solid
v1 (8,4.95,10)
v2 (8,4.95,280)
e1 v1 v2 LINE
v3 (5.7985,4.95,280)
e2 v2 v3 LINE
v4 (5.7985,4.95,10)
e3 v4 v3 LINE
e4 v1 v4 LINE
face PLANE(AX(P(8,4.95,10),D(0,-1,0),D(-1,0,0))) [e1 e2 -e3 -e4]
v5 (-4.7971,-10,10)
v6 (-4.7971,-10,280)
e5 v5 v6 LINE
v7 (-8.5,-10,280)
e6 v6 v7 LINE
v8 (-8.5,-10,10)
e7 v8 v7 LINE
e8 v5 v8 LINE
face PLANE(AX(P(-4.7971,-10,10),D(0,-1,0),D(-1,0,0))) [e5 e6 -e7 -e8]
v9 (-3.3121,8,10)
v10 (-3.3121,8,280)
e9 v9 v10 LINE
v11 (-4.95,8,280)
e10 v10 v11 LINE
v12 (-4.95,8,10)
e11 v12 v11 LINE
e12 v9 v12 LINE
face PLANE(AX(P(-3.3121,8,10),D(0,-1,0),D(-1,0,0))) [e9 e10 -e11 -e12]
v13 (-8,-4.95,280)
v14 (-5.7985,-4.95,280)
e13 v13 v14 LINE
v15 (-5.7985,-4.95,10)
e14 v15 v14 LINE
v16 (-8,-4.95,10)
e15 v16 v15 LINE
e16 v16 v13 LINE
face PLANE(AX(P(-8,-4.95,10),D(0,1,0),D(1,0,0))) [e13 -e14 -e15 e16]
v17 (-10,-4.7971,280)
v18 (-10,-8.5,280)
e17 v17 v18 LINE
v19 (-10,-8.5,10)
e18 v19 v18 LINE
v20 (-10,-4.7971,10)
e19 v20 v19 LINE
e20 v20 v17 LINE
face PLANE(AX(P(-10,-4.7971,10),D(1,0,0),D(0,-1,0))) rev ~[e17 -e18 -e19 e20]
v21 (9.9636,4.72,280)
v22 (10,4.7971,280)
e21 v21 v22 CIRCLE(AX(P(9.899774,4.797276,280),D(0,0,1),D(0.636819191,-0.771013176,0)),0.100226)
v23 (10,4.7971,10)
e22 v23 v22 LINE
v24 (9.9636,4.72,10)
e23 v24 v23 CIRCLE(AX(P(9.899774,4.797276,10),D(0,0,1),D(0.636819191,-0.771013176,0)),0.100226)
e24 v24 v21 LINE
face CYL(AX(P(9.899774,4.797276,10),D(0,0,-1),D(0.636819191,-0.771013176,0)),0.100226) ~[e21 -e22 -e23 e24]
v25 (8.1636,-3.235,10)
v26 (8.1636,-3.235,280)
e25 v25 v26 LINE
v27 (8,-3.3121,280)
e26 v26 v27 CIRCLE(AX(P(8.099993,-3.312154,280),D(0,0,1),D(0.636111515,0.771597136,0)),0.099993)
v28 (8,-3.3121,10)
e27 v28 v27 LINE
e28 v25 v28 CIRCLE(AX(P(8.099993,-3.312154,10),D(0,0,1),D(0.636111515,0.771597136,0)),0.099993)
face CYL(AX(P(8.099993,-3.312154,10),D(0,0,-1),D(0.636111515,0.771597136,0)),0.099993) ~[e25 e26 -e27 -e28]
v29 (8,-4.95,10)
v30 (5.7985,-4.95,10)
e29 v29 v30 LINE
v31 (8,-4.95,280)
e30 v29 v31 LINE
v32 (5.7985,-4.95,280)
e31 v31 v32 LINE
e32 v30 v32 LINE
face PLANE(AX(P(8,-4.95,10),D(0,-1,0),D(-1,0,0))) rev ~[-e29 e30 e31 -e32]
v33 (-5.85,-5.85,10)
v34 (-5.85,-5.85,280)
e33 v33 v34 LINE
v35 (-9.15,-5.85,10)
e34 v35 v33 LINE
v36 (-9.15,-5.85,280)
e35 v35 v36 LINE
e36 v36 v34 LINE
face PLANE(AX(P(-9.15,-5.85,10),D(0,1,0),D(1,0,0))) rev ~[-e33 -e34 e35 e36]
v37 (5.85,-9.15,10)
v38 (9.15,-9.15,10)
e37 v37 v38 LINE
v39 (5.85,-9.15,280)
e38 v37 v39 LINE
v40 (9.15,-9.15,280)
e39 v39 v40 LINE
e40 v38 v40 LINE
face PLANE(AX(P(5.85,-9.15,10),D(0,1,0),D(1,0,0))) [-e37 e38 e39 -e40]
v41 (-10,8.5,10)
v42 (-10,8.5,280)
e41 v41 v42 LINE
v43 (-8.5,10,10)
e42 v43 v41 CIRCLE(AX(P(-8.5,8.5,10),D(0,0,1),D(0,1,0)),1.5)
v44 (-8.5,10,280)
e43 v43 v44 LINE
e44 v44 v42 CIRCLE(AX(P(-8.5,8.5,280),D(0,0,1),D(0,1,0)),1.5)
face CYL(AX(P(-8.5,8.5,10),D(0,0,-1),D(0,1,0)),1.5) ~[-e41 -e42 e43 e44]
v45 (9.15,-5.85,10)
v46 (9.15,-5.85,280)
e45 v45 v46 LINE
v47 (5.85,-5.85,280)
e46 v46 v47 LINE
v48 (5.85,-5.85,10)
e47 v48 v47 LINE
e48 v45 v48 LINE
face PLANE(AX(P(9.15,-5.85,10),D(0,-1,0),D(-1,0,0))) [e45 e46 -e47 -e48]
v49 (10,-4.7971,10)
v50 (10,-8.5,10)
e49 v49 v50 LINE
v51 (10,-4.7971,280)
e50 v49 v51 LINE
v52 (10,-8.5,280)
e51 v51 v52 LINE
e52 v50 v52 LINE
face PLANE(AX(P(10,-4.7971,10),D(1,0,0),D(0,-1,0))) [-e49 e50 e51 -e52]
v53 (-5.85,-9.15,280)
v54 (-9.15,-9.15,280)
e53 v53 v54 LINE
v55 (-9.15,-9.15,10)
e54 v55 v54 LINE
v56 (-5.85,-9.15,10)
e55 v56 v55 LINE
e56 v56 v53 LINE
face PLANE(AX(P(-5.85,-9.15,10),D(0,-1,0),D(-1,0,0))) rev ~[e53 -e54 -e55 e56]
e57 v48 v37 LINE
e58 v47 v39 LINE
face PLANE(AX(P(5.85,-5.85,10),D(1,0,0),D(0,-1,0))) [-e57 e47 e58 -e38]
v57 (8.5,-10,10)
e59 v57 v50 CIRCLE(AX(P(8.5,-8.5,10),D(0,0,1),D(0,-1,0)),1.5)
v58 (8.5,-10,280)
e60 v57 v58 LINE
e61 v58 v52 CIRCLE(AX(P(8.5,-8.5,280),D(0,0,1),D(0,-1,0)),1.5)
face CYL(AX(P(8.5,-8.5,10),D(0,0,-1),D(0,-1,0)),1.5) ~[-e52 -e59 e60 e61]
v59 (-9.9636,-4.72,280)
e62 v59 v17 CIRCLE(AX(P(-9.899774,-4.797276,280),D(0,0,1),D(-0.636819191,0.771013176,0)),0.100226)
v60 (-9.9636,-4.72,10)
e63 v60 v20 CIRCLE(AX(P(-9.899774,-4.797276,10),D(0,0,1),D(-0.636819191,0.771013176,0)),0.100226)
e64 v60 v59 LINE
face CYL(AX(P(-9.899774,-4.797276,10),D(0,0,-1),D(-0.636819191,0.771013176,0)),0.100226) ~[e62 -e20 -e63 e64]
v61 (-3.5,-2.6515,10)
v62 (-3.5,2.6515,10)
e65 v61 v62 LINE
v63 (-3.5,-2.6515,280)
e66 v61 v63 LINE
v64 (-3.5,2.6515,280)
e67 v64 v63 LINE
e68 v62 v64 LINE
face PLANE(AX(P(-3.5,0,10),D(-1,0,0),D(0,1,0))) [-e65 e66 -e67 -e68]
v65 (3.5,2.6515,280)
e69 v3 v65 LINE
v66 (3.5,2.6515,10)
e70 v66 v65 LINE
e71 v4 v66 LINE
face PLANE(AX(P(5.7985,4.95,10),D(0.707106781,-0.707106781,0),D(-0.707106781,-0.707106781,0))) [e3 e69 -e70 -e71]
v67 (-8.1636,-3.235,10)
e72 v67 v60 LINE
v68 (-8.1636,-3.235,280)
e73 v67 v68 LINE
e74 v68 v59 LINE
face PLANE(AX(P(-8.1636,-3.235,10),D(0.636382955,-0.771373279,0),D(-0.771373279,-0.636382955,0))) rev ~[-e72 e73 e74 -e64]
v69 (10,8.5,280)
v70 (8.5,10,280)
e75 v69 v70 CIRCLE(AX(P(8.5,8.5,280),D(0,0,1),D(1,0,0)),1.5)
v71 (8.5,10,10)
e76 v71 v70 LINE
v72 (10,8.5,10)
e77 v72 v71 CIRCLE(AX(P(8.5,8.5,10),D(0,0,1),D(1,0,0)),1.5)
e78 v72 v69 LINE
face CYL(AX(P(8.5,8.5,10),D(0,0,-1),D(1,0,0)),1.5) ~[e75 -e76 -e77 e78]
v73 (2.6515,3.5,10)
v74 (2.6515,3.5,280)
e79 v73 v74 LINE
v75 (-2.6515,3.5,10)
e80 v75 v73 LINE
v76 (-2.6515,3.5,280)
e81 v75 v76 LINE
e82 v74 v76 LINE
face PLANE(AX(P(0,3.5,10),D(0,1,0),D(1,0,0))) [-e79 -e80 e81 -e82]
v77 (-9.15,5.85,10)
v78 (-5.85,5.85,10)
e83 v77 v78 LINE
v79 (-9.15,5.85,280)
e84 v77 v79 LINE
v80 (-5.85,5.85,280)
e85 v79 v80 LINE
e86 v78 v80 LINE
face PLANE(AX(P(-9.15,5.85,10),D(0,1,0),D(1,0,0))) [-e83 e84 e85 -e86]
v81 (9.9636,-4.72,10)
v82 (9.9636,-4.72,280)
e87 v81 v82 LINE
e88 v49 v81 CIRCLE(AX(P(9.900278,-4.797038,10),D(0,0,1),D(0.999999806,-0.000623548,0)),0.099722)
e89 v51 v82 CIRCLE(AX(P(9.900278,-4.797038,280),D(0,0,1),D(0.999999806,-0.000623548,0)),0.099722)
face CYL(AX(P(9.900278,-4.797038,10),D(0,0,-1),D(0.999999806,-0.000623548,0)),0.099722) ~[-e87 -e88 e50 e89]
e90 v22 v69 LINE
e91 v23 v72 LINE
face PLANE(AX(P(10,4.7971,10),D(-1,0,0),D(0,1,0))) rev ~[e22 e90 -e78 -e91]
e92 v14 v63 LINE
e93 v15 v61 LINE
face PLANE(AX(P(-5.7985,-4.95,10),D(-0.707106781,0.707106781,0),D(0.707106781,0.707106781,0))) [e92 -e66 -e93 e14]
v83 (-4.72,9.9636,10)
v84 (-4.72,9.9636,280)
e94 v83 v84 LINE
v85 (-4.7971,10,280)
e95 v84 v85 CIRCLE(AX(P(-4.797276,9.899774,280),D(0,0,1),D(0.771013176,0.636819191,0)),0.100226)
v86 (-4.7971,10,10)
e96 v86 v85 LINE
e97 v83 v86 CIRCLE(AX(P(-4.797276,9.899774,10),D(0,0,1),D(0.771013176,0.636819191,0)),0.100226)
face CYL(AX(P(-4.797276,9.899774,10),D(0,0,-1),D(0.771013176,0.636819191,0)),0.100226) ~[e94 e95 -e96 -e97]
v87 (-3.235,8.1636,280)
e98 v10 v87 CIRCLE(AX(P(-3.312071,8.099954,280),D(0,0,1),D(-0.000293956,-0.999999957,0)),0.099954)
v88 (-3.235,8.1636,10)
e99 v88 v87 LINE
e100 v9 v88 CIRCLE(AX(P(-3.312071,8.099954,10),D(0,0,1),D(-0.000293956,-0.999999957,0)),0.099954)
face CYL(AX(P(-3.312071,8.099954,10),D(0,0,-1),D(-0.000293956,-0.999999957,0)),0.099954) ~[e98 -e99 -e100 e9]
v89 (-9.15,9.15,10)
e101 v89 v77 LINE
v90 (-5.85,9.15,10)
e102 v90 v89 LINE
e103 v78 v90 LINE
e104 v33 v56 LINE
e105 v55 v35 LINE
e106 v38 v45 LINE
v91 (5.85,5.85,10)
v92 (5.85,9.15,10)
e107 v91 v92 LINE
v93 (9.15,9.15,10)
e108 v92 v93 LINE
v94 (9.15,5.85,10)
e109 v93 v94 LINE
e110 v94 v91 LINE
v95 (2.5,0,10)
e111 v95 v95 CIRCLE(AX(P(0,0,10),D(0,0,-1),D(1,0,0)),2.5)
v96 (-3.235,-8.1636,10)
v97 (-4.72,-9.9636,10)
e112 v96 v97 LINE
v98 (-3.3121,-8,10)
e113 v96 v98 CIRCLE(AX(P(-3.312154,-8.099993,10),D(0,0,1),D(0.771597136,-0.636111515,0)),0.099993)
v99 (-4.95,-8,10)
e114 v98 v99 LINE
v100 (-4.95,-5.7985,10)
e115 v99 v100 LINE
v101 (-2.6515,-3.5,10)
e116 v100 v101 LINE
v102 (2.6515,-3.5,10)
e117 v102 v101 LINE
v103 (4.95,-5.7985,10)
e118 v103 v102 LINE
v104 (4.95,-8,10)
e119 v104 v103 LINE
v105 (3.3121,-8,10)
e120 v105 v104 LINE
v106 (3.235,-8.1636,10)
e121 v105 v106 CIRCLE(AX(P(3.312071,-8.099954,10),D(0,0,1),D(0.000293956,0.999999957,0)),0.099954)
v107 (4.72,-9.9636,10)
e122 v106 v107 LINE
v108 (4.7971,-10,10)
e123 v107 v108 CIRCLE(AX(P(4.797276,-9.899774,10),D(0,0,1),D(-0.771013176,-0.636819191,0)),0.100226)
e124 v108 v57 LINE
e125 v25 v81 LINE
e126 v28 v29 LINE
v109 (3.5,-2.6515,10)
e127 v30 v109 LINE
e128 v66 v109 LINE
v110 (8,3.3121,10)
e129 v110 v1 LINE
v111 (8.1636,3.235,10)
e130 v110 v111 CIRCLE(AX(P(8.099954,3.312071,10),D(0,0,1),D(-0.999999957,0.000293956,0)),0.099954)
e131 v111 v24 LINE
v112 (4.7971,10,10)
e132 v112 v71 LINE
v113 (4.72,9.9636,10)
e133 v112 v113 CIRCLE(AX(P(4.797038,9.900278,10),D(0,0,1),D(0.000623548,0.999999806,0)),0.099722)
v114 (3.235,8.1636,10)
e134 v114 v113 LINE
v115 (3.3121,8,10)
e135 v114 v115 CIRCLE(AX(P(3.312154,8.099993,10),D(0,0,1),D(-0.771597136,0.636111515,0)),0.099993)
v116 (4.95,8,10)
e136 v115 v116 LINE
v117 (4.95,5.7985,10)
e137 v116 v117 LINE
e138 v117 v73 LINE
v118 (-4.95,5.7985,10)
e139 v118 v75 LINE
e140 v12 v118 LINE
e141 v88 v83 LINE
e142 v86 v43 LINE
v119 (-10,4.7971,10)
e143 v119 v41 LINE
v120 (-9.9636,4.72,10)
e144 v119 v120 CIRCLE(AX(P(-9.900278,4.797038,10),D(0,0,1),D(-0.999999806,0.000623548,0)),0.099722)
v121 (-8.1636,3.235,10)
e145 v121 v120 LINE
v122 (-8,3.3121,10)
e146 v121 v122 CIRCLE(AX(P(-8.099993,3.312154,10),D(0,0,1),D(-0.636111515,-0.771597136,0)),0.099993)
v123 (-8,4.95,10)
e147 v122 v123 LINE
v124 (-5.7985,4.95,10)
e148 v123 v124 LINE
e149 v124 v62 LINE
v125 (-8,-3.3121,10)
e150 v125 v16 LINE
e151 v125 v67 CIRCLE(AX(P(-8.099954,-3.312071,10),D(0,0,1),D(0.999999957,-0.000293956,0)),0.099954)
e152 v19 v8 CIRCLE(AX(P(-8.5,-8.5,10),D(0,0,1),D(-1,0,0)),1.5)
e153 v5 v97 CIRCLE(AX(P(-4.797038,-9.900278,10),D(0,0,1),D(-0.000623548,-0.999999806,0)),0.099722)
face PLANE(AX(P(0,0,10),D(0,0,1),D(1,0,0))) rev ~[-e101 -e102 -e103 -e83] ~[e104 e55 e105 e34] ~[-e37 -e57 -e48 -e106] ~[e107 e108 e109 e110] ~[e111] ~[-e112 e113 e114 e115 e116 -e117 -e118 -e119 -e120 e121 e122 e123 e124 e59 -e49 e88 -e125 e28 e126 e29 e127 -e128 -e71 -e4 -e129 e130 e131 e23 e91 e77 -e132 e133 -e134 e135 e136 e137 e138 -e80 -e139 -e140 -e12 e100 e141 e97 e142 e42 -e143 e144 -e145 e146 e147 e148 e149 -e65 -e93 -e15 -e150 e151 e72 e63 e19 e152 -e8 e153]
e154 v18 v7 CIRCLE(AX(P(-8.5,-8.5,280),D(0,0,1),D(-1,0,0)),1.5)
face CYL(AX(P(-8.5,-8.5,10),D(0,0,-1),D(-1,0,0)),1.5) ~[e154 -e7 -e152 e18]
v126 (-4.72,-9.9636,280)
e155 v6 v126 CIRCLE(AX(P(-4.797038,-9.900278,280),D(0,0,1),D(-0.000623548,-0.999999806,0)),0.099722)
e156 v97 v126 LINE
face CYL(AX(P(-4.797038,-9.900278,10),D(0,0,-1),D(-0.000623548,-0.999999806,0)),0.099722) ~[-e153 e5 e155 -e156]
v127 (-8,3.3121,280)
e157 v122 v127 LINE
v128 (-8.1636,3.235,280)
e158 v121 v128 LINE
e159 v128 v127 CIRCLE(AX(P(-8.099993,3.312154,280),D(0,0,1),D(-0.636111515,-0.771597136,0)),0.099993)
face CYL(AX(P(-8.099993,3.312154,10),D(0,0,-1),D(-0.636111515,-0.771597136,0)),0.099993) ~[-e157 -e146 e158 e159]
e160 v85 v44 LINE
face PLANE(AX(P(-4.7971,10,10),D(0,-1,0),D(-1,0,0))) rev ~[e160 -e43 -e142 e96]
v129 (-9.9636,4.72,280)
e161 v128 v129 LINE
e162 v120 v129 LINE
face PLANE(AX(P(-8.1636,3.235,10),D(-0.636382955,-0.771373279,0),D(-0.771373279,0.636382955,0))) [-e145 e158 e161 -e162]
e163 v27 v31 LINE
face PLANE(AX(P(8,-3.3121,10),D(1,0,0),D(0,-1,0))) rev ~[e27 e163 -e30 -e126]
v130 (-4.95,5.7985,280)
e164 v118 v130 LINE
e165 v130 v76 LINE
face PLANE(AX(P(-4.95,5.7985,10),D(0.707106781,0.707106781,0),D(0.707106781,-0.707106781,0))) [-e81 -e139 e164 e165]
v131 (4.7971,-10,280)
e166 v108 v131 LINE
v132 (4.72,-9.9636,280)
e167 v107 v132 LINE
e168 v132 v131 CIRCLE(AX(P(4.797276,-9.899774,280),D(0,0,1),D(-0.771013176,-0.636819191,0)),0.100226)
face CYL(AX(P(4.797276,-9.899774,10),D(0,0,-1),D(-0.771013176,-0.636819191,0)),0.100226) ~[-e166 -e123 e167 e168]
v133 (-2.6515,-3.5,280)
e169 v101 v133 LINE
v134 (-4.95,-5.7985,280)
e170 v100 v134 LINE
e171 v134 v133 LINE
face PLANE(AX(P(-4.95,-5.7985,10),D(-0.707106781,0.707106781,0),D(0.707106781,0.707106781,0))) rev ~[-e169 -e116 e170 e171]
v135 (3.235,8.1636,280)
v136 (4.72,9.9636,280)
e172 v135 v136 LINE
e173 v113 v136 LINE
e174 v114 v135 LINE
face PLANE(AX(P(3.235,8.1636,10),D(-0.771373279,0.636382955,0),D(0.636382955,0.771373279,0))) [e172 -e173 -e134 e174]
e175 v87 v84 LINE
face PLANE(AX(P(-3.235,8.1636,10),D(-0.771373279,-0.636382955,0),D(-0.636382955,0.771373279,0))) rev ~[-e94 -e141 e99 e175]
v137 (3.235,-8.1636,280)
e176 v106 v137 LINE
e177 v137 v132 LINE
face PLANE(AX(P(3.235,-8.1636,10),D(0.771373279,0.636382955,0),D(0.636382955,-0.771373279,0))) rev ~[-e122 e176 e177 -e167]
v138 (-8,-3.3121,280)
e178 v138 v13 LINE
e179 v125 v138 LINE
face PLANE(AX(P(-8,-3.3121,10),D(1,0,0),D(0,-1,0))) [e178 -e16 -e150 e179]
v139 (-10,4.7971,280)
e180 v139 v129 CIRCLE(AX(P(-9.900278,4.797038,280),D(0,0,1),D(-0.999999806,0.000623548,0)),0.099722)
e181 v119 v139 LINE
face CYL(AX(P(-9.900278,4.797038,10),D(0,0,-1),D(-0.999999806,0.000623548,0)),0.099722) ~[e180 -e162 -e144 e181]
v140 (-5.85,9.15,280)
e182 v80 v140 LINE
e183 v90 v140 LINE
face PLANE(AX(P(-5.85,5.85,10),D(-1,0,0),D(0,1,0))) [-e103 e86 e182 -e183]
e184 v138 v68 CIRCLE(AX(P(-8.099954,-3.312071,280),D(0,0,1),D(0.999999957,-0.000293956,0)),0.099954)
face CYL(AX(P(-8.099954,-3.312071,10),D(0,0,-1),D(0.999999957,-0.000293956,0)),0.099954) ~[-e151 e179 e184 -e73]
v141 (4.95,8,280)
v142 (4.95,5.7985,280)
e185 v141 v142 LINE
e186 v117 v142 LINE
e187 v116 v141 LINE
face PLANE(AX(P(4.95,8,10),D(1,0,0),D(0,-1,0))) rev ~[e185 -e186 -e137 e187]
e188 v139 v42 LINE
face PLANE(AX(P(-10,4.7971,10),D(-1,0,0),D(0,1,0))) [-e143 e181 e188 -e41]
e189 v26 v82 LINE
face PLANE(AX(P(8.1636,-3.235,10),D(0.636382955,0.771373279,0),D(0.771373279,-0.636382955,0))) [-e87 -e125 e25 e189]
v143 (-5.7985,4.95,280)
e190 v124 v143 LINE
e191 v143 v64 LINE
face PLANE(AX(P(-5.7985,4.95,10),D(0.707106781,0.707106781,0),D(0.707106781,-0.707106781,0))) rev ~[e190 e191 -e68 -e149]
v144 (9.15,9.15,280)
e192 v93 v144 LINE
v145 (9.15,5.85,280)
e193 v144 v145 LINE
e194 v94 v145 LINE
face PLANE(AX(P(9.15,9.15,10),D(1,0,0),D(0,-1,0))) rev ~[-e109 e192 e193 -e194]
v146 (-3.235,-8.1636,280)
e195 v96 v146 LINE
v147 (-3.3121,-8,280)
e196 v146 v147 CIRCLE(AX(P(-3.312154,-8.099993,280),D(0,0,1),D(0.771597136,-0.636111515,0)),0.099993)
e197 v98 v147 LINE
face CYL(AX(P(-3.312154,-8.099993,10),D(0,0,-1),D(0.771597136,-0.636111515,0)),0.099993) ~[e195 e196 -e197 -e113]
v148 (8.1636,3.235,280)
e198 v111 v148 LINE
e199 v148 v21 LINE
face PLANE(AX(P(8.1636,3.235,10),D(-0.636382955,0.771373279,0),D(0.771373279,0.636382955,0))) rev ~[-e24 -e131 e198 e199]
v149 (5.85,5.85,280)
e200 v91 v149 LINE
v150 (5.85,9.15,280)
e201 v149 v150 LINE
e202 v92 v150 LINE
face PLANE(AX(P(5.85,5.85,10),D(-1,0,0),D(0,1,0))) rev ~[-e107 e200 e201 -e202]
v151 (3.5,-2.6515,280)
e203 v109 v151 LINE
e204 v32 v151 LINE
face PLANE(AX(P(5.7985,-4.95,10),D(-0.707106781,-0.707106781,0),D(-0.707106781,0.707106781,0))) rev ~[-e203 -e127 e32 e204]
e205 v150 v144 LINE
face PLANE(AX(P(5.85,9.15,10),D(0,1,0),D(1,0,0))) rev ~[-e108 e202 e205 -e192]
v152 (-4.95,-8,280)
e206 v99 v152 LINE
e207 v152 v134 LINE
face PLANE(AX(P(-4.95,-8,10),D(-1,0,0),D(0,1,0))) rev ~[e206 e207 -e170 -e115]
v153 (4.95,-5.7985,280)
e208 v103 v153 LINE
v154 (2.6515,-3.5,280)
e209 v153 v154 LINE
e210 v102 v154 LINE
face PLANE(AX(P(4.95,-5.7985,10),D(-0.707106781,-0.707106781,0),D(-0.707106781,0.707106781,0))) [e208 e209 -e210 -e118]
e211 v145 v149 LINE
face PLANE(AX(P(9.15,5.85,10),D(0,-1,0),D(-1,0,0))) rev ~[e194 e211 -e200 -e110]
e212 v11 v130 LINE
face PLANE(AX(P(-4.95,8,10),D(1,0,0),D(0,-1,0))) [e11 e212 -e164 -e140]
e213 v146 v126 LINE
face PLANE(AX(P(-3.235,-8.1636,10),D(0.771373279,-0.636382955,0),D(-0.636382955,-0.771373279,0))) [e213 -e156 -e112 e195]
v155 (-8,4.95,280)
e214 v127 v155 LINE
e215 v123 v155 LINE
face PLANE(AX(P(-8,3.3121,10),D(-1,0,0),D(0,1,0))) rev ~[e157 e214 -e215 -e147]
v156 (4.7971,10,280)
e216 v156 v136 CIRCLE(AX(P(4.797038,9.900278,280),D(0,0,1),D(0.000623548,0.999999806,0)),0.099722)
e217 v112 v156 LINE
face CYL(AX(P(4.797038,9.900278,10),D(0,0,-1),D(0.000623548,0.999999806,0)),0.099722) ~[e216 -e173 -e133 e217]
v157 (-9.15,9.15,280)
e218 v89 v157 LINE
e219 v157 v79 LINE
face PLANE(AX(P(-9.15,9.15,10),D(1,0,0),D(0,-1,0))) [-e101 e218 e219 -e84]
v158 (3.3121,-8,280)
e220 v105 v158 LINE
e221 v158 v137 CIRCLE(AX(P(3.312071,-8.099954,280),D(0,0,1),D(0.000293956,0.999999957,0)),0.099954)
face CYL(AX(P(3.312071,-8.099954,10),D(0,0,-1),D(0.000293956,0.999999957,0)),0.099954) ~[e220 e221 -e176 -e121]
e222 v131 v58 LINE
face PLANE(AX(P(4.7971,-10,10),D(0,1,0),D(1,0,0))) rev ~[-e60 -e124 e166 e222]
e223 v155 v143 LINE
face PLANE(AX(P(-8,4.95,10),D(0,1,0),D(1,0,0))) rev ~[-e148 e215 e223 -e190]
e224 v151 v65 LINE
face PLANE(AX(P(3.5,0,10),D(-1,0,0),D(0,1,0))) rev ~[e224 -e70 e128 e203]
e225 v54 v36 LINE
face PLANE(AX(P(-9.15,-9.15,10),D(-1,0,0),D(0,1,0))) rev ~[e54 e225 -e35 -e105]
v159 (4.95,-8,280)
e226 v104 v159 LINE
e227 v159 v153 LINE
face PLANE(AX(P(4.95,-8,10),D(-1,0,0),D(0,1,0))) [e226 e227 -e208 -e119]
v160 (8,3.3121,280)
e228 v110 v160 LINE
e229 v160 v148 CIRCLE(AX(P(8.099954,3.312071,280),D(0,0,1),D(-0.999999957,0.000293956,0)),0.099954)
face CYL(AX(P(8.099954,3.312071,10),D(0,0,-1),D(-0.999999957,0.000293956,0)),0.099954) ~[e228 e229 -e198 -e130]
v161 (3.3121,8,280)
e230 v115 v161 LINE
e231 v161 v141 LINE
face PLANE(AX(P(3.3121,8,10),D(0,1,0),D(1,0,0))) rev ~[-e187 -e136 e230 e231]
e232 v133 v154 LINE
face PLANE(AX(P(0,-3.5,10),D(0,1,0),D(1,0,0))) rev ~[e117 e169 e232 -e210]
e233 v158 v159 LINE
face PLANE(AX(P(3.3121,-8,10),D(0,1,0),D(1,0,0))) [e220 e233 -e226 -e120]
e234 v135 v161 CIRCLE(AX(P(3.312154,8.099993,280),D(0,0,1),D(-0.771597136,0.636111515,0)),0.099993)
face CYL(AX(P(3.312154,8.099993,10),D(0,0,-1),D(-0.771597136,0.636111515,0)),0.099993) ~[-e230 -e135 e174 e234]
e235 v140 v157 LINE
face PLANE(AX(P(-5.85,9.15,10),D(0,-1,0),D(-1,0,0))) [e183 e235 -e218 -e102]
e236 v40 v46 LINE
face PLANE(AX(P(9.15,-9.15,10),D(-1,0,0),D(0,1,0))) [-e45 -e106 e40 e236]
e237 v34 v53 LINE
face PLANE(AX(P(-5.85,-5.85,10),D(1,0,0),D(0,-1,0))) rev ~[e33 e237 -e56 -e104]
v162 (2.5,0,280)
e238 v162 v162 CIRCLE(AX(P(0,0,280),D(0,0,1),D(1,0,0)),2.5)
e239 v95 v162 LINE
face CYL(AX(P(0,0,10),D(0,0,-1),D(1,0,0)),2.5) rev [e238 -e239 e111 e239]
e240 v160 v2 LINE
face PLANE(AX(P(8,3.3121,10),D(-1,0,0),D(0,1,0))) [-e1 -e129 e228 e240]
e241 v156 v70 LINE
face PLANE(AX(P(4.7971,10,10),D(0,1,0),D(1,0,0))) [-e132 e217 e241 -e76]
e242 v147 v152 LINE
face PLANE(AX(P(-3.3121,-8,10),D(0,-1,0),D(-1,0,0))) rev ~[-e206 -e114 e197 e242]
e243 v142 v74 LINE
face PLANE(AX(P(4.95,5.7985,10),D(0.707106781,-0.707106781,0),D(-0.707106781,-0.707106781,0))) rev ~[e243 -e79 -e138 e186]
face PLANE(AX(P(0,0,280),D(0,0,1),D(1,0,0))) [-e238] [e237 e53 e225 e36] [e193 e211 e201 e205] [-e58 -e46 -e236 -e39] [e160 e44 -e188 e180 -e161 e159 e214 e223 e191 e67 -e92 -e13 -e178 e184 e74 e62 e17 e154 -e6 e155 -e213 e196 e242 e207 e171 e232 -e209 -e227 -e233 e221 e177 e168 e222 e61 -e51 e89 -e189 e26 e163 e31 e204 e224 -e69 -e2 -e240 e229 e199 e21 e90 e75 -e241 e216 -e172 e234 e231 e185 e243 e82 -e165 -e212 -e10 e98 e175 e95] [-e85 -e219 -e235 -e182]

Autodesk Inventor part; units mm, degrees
ref_plane "Начальная плоскость" through (0, 0, 10) normal (0, 0, 1) x (1, 0, 0)
ref_plane "Конечная плоскость" through (0, 0, 280) normal (0, 0, 1) x (1, 0, 0)
sketch "Эскиз" plane through (0, 0, 0) normal (0, 0, 1) x (1, 0, 0)
  line L0 (-14.4349, 0) -> (14.4349, 0) projected
  line L1 (0, -14) -> (0, 14) projected
  line L2 (0, 0) -> (7.5, 7.5) construction
  circle A0 centre (7.5, 7.5) radius 1.65 construction
  line L3 (5.85, 9.15) -> (9.15, 9.15)
  line L4 (9.15, 9.15) -> (9.15, 5.85)
  line L5 (9.15, 5.85) -> (5.85, 5.85)
  line L6 (5.85, 5.85) -> (5.85, 9.15)
  line L7 (3.235, 8.1636) -> (4.72, 9.9636)
  line L8 (4.7971, 10) -> (8.5, 10)
  line L9 (3.3121, 8) -> (4.95, 8)
  line L10 (4.95, 8) -> (4.95, 5.7985)
  line L11 (4.95, 5.7985) -> (2.6515, 3.5)
  line L12 (0, 3.5) -> (2.6515, 3.5)
  circle A1 centre (0, 0) radius 2.5
  line L13 (8.1636, 3.235) -> (9.9636, 4.72)
  line L14 (10, 4.7971) -> (10, 8.5)
  line L15 (8, 3.3121) -> (8, 4.95)
  line L16 (8, 4.95) -> (5.7985, 4.95)
  line L17 (5.7985, 4.95) -> (3.5, 2.6515)
  line L18 (3.5, 0) -> (3.5, 2.6515)
  arc A2 (10, 8.5) -> (8.5, 10) centre (8.5, 8.5) ccw
  line L19 (0, 0) -> (-7.5, 7.5) construction
  circle A3 centre (-7.5, 7.5) radius 1.65 construction
  line L20 (-5.85, 9.15) -> (-9.15, 9.15)
  line L21 (-9.15, 9.15) -> (-9.15, 5.85)
  line L22 (-9.15, 5.85) -> (-5.85, 5.85)
  line L23 (-5.85, 5.85) -> (-5.85, 9.15)
  line L24 (-3.235, 8.1636) -> (-4.72, 9.9636)
  line L25 (-4.7971, 10) -> (-8.5, 10)
  line L26 (-3.3121, 8) -> (-4.95, 8)
  line L27 (-4.95, 8) -> (-4.95, 5.7985)
  line L28 (-4.95, 5.7985) -> (-2.6515, 3.5)
  line L29 (0, 3.5) -> (-2.6515, 3.5)
  line L30 (-3.5, 0) -> (-3.5, 2.6515)
  line L31 (-5.7985, 4.95) -> (-3.5, 2.6515)
  line L32 (-8, 4.95) -> (-5.7985, 4.95)
  line L33 (-8, 3.3121) -> (-8, 4.95)
  line L34 (-8.1636, 3.235) -> (-9.9636, 4.72)
  line L35 (-10, 4.7971) -> (-10, 8.5)
  arc A4 (-8.5, 10) -> (-10, 8.5) centre (-8.5, 8.5) ccw
  line L36 (0, 14) -> (0, -14)
  line L37 (0, 0) -> (7.5, -7.5) construction
  circle A5 centre (7.5, -7.5) radius 1.65 construction
  line L38 (5.85, -9.15) -> (9.15, -9.15)
  line L39 (9.15, -9.15) -> (9.15, -5.85)
  line L40 (9.15, -5.85) -> (5.85, -5.85)
  line L41 (5.85, -5.85) -> (5.85, -9.15)
  line L42 (3.235, -8.1636) -> (4.72, -9.9636)
  line L43 (4.7971, -10) -> (8.5, -10)
  line L44 (3.3121, -8) -> (4.95, -8)
  line L45 (4.95, -8) -> (4.95, -5.7985)
  line L46 (4.95, -5.7985) -> (2.6515, -3.5)
  line L47 (0, -3.5) -> (2.6515, -3.5)
  line L48 (3.5, 0) -> (3.5, -2.6515)
  line L49 (5.7985, -4.95) -> (3.5, -2.6515)
  line L50 (8, -4.95) -> (5.7985, -4.95)
  line L51 (8, -3.3121) -> (8, -4.95)
  line L52 (8.1636, -3.235) -> (9.9636, -4.72)
  line L53 (10, -4.7971) -> (10, -8.5)
  arc A6 (8.5, -10) -> (10, -8.5) centre (8.5, -8.5) ccw
  line L54 (0, 0) -> (-7.5, -7.5) construction
  line L55 (-4.95, -8) -> (-4.95, -5.7985)
  line L56 (-3.3121, -8) -> (-4.95, -8)
  line L57 (-5.7985, -4.95) -> (-3.5, -2.6515)
  line L58 (-4.95, -5.7985) -> (-2.6515, -3.5)
  line L59 (-3.5, 0) -> (-3.5, -2.6515)
  line L60 (0, -3.5) -> (-2.6515, -3.5)
  circle A7 centre (-7.5, -7.5) radius 1.65 construction
  line L61 (-5.85, -5.85) -> (-5.85, -9.15)
  line L62 (-5.85, -9.15) -> (-9.15, -9.15)
  line L63 (-9.15, -9.15) -> (-9.15, -5.85)
  line L64 (-9.15, -5.85) -> (-5.85, -5.85)
  line L65 (-3.235, -8.1636) -> (-4.72, -9.9636)
  line L66 (-8, -4.95) -> (-5.7985, -4.95)
  line L67 (-8, -3.3121) -> (-8, -4.95)
  line L68 (-8.1636, -3.235) -> (-9.9636, -4.72)
  line L69 (-4.7971, -10) -> (-8.5, -10)
  line L70 (-10, -4.7971) -> (-10, -8.5)
  arc A8 (-10, -8.5) -> (-8.5, -10) centre (-8.5, -8.5) ccw
  arc A9 (3.235, 8.1636) -> (3.3121, 8) centre (3.3121, 8.1) ccw
  arc A10 (4.7971, 10) -> (4.72, 9.9636) centre (4.7971, 9.9) ccw
  arc A11 (8, 3.3121) -> (8.1636, 3.235) centre (8.1, 3.3121) ccw
  arc A12 (9.9636, 4.72) -> (10, 4.7971) centre (9.9, 4.7971) ccw
  arc A13 (-3.3121, 8) -> (-3.235, 8.1636) centre (-3.3121, 8.1) ccw
  arc A14 (-4.72, 9.9636) -> (-4.7971, 10) centre (-4.7971, 9.9) ccw
  arc A15 (-8.1636, 3.235) -> (-8, 3.3121) centre (-8.1, 3.3121) ccw
  arc A16 (-10, 4.7971) -> (-9.9636, 4.72) centre (-9.9, 4.7971) ccw
  arc A17 (-8, -3.3121) -> (-8.1636, -3.235) centre (-8.1, -3.3121) ccw
  arc A18 (-9.9636, -4.72) -> (-10, -4.7971) centre (-9.9, -4.7971) ccw
  arc A19 (-3.235, -8.1636) -> (-3.3121, -8) centre (-3.3121, -8.1) ccw
  arc A20 (-4.7971, -10) -> (-4.72, -9.9636) centre (-4.7971, -9.9) ccw
  arc A21 (4.72, -9.9636) -> (4.7971, -10) centre (4.7971, -9.9) ccw
  arc A22 (3.3121, -8) -> (3.235, -8.1636) centre (3.3121, -8.1) ccw
  arc A23 (8.1636, -3.235) -> (8, -3.3121) centre (8.1, -3.3121) ccw
  arc A24 (10, -4.7971) -> (9.9636, -4.72) centre (9.9, -4.7971) ccw
  point P0 (3.1, 8)
  point P1 (4.75, 10)
  point P2 (7.5, 9.15)
  point P3 (8, 3.1)
  point P4 (10, 4.75)
  point P5 (7.5, 5.85)
  point P6 (9.15, 7.5)
  point P7 (-3.1, 8)
  point P8 (-4.75, 10)
  point P9 (-7.5, 9.15)
  point P10 (-8, 3.1)
  point P11 (-10, 4.75)
  point P12 (-7.5, 5.85)
  point P13 (-9.15, 7.5)
  point P14 (3.1, -8)
  point P15 (4.75, -10)
  point P16 (7.5, -9.15)
  point P17 (8, -3.1)
  point P18 (10, -4.75)
  point P19 (7.5, -5.85)
  point P20 (9.15, -7.5)
  point P21 (-3.1, -8)
  point P22 (-7.5, -5.85)
  point P23 (-7.5, -9.15)
  point P24 (-9.15, -7.5)
  point P25 (-4.75, -10)
  point P26 (-8, -3.1)
  point P27 (-10, -4.75)
  dimension "d0" = 45
  dimension "d1" = 3.3
  dimension "d2" = 1.5
  dimension "d3" = 1.2
  dimension "d4" = 5
  dimension "d5" = 6.5
  dimension "d6" = 15
  dimension "d7" = 20
  dimension "d8" = 9.9
  dimension "d9" = 9.5
  dimension "d10" = 6.2
  dimension "d11" = 2
  dimension "d18" = 0.1
  dimension "d19" = 0.1
extrude "Тело" add sketch "Эскиз" along normal up to surface (270 mm away) from surface at 10 contours A1 L1 L12 L11 L10 L9 A9 L7 A10 L8 A2 L14 A12 L13 A11 L15 L16 L17 L18 L0 | L0 L48 L49 L50 L51 A23 L52 A24 L53 A6 L43 A21 L42 A22 L44 L45 L46 L47 L1 A1 | A1 L0 L30 L31 L32 L33 A15 L34 A16 L35 A4 L25 A14 L24 A13 L26 L27 L28 L29 L1 | L1 L60 L58 L55 L56 A19 L65 A20 L69 A8 L70 A18 L68 A17 L67 L66 L57 L59 L0 A1
sketch "Эскиз2" plane through (0, 0, 0) normal (0, 0, 1) x (1, 0, 0)
  line L0 (0, 0) -> (10, 0)
ref_plane "РабПлоскость3" through (0, 0, 0) normal (0, -1, 0) x (1, 0, 0)
sketch "Эскиз3" plane through (0, 0, 0) normal (0, -1, 0) x (1, 0, 0)
  line L0 (-2, 10) -> (12, 10)
  line L1 (-2, 280) -> (12, 280)
  dimension "d25" = 270
ref_plane "РабПлоскость4" through (300, -4.7971, 280) normal (0, 0, 1) x (1, 0, 0)
split "Разделение1" plane through (300, -4.7971, 280) removes the side toward (0, 0, 1)
ref_plane "РабПлоскость5" through (300, -8.5, 10) normal (0, 0, -1) x (-1, 0, 0)
split "Разделение2" plane through (300, -8.5, 10) removes the side toward (0, 0, -1)
properties part number "короткая палка"
